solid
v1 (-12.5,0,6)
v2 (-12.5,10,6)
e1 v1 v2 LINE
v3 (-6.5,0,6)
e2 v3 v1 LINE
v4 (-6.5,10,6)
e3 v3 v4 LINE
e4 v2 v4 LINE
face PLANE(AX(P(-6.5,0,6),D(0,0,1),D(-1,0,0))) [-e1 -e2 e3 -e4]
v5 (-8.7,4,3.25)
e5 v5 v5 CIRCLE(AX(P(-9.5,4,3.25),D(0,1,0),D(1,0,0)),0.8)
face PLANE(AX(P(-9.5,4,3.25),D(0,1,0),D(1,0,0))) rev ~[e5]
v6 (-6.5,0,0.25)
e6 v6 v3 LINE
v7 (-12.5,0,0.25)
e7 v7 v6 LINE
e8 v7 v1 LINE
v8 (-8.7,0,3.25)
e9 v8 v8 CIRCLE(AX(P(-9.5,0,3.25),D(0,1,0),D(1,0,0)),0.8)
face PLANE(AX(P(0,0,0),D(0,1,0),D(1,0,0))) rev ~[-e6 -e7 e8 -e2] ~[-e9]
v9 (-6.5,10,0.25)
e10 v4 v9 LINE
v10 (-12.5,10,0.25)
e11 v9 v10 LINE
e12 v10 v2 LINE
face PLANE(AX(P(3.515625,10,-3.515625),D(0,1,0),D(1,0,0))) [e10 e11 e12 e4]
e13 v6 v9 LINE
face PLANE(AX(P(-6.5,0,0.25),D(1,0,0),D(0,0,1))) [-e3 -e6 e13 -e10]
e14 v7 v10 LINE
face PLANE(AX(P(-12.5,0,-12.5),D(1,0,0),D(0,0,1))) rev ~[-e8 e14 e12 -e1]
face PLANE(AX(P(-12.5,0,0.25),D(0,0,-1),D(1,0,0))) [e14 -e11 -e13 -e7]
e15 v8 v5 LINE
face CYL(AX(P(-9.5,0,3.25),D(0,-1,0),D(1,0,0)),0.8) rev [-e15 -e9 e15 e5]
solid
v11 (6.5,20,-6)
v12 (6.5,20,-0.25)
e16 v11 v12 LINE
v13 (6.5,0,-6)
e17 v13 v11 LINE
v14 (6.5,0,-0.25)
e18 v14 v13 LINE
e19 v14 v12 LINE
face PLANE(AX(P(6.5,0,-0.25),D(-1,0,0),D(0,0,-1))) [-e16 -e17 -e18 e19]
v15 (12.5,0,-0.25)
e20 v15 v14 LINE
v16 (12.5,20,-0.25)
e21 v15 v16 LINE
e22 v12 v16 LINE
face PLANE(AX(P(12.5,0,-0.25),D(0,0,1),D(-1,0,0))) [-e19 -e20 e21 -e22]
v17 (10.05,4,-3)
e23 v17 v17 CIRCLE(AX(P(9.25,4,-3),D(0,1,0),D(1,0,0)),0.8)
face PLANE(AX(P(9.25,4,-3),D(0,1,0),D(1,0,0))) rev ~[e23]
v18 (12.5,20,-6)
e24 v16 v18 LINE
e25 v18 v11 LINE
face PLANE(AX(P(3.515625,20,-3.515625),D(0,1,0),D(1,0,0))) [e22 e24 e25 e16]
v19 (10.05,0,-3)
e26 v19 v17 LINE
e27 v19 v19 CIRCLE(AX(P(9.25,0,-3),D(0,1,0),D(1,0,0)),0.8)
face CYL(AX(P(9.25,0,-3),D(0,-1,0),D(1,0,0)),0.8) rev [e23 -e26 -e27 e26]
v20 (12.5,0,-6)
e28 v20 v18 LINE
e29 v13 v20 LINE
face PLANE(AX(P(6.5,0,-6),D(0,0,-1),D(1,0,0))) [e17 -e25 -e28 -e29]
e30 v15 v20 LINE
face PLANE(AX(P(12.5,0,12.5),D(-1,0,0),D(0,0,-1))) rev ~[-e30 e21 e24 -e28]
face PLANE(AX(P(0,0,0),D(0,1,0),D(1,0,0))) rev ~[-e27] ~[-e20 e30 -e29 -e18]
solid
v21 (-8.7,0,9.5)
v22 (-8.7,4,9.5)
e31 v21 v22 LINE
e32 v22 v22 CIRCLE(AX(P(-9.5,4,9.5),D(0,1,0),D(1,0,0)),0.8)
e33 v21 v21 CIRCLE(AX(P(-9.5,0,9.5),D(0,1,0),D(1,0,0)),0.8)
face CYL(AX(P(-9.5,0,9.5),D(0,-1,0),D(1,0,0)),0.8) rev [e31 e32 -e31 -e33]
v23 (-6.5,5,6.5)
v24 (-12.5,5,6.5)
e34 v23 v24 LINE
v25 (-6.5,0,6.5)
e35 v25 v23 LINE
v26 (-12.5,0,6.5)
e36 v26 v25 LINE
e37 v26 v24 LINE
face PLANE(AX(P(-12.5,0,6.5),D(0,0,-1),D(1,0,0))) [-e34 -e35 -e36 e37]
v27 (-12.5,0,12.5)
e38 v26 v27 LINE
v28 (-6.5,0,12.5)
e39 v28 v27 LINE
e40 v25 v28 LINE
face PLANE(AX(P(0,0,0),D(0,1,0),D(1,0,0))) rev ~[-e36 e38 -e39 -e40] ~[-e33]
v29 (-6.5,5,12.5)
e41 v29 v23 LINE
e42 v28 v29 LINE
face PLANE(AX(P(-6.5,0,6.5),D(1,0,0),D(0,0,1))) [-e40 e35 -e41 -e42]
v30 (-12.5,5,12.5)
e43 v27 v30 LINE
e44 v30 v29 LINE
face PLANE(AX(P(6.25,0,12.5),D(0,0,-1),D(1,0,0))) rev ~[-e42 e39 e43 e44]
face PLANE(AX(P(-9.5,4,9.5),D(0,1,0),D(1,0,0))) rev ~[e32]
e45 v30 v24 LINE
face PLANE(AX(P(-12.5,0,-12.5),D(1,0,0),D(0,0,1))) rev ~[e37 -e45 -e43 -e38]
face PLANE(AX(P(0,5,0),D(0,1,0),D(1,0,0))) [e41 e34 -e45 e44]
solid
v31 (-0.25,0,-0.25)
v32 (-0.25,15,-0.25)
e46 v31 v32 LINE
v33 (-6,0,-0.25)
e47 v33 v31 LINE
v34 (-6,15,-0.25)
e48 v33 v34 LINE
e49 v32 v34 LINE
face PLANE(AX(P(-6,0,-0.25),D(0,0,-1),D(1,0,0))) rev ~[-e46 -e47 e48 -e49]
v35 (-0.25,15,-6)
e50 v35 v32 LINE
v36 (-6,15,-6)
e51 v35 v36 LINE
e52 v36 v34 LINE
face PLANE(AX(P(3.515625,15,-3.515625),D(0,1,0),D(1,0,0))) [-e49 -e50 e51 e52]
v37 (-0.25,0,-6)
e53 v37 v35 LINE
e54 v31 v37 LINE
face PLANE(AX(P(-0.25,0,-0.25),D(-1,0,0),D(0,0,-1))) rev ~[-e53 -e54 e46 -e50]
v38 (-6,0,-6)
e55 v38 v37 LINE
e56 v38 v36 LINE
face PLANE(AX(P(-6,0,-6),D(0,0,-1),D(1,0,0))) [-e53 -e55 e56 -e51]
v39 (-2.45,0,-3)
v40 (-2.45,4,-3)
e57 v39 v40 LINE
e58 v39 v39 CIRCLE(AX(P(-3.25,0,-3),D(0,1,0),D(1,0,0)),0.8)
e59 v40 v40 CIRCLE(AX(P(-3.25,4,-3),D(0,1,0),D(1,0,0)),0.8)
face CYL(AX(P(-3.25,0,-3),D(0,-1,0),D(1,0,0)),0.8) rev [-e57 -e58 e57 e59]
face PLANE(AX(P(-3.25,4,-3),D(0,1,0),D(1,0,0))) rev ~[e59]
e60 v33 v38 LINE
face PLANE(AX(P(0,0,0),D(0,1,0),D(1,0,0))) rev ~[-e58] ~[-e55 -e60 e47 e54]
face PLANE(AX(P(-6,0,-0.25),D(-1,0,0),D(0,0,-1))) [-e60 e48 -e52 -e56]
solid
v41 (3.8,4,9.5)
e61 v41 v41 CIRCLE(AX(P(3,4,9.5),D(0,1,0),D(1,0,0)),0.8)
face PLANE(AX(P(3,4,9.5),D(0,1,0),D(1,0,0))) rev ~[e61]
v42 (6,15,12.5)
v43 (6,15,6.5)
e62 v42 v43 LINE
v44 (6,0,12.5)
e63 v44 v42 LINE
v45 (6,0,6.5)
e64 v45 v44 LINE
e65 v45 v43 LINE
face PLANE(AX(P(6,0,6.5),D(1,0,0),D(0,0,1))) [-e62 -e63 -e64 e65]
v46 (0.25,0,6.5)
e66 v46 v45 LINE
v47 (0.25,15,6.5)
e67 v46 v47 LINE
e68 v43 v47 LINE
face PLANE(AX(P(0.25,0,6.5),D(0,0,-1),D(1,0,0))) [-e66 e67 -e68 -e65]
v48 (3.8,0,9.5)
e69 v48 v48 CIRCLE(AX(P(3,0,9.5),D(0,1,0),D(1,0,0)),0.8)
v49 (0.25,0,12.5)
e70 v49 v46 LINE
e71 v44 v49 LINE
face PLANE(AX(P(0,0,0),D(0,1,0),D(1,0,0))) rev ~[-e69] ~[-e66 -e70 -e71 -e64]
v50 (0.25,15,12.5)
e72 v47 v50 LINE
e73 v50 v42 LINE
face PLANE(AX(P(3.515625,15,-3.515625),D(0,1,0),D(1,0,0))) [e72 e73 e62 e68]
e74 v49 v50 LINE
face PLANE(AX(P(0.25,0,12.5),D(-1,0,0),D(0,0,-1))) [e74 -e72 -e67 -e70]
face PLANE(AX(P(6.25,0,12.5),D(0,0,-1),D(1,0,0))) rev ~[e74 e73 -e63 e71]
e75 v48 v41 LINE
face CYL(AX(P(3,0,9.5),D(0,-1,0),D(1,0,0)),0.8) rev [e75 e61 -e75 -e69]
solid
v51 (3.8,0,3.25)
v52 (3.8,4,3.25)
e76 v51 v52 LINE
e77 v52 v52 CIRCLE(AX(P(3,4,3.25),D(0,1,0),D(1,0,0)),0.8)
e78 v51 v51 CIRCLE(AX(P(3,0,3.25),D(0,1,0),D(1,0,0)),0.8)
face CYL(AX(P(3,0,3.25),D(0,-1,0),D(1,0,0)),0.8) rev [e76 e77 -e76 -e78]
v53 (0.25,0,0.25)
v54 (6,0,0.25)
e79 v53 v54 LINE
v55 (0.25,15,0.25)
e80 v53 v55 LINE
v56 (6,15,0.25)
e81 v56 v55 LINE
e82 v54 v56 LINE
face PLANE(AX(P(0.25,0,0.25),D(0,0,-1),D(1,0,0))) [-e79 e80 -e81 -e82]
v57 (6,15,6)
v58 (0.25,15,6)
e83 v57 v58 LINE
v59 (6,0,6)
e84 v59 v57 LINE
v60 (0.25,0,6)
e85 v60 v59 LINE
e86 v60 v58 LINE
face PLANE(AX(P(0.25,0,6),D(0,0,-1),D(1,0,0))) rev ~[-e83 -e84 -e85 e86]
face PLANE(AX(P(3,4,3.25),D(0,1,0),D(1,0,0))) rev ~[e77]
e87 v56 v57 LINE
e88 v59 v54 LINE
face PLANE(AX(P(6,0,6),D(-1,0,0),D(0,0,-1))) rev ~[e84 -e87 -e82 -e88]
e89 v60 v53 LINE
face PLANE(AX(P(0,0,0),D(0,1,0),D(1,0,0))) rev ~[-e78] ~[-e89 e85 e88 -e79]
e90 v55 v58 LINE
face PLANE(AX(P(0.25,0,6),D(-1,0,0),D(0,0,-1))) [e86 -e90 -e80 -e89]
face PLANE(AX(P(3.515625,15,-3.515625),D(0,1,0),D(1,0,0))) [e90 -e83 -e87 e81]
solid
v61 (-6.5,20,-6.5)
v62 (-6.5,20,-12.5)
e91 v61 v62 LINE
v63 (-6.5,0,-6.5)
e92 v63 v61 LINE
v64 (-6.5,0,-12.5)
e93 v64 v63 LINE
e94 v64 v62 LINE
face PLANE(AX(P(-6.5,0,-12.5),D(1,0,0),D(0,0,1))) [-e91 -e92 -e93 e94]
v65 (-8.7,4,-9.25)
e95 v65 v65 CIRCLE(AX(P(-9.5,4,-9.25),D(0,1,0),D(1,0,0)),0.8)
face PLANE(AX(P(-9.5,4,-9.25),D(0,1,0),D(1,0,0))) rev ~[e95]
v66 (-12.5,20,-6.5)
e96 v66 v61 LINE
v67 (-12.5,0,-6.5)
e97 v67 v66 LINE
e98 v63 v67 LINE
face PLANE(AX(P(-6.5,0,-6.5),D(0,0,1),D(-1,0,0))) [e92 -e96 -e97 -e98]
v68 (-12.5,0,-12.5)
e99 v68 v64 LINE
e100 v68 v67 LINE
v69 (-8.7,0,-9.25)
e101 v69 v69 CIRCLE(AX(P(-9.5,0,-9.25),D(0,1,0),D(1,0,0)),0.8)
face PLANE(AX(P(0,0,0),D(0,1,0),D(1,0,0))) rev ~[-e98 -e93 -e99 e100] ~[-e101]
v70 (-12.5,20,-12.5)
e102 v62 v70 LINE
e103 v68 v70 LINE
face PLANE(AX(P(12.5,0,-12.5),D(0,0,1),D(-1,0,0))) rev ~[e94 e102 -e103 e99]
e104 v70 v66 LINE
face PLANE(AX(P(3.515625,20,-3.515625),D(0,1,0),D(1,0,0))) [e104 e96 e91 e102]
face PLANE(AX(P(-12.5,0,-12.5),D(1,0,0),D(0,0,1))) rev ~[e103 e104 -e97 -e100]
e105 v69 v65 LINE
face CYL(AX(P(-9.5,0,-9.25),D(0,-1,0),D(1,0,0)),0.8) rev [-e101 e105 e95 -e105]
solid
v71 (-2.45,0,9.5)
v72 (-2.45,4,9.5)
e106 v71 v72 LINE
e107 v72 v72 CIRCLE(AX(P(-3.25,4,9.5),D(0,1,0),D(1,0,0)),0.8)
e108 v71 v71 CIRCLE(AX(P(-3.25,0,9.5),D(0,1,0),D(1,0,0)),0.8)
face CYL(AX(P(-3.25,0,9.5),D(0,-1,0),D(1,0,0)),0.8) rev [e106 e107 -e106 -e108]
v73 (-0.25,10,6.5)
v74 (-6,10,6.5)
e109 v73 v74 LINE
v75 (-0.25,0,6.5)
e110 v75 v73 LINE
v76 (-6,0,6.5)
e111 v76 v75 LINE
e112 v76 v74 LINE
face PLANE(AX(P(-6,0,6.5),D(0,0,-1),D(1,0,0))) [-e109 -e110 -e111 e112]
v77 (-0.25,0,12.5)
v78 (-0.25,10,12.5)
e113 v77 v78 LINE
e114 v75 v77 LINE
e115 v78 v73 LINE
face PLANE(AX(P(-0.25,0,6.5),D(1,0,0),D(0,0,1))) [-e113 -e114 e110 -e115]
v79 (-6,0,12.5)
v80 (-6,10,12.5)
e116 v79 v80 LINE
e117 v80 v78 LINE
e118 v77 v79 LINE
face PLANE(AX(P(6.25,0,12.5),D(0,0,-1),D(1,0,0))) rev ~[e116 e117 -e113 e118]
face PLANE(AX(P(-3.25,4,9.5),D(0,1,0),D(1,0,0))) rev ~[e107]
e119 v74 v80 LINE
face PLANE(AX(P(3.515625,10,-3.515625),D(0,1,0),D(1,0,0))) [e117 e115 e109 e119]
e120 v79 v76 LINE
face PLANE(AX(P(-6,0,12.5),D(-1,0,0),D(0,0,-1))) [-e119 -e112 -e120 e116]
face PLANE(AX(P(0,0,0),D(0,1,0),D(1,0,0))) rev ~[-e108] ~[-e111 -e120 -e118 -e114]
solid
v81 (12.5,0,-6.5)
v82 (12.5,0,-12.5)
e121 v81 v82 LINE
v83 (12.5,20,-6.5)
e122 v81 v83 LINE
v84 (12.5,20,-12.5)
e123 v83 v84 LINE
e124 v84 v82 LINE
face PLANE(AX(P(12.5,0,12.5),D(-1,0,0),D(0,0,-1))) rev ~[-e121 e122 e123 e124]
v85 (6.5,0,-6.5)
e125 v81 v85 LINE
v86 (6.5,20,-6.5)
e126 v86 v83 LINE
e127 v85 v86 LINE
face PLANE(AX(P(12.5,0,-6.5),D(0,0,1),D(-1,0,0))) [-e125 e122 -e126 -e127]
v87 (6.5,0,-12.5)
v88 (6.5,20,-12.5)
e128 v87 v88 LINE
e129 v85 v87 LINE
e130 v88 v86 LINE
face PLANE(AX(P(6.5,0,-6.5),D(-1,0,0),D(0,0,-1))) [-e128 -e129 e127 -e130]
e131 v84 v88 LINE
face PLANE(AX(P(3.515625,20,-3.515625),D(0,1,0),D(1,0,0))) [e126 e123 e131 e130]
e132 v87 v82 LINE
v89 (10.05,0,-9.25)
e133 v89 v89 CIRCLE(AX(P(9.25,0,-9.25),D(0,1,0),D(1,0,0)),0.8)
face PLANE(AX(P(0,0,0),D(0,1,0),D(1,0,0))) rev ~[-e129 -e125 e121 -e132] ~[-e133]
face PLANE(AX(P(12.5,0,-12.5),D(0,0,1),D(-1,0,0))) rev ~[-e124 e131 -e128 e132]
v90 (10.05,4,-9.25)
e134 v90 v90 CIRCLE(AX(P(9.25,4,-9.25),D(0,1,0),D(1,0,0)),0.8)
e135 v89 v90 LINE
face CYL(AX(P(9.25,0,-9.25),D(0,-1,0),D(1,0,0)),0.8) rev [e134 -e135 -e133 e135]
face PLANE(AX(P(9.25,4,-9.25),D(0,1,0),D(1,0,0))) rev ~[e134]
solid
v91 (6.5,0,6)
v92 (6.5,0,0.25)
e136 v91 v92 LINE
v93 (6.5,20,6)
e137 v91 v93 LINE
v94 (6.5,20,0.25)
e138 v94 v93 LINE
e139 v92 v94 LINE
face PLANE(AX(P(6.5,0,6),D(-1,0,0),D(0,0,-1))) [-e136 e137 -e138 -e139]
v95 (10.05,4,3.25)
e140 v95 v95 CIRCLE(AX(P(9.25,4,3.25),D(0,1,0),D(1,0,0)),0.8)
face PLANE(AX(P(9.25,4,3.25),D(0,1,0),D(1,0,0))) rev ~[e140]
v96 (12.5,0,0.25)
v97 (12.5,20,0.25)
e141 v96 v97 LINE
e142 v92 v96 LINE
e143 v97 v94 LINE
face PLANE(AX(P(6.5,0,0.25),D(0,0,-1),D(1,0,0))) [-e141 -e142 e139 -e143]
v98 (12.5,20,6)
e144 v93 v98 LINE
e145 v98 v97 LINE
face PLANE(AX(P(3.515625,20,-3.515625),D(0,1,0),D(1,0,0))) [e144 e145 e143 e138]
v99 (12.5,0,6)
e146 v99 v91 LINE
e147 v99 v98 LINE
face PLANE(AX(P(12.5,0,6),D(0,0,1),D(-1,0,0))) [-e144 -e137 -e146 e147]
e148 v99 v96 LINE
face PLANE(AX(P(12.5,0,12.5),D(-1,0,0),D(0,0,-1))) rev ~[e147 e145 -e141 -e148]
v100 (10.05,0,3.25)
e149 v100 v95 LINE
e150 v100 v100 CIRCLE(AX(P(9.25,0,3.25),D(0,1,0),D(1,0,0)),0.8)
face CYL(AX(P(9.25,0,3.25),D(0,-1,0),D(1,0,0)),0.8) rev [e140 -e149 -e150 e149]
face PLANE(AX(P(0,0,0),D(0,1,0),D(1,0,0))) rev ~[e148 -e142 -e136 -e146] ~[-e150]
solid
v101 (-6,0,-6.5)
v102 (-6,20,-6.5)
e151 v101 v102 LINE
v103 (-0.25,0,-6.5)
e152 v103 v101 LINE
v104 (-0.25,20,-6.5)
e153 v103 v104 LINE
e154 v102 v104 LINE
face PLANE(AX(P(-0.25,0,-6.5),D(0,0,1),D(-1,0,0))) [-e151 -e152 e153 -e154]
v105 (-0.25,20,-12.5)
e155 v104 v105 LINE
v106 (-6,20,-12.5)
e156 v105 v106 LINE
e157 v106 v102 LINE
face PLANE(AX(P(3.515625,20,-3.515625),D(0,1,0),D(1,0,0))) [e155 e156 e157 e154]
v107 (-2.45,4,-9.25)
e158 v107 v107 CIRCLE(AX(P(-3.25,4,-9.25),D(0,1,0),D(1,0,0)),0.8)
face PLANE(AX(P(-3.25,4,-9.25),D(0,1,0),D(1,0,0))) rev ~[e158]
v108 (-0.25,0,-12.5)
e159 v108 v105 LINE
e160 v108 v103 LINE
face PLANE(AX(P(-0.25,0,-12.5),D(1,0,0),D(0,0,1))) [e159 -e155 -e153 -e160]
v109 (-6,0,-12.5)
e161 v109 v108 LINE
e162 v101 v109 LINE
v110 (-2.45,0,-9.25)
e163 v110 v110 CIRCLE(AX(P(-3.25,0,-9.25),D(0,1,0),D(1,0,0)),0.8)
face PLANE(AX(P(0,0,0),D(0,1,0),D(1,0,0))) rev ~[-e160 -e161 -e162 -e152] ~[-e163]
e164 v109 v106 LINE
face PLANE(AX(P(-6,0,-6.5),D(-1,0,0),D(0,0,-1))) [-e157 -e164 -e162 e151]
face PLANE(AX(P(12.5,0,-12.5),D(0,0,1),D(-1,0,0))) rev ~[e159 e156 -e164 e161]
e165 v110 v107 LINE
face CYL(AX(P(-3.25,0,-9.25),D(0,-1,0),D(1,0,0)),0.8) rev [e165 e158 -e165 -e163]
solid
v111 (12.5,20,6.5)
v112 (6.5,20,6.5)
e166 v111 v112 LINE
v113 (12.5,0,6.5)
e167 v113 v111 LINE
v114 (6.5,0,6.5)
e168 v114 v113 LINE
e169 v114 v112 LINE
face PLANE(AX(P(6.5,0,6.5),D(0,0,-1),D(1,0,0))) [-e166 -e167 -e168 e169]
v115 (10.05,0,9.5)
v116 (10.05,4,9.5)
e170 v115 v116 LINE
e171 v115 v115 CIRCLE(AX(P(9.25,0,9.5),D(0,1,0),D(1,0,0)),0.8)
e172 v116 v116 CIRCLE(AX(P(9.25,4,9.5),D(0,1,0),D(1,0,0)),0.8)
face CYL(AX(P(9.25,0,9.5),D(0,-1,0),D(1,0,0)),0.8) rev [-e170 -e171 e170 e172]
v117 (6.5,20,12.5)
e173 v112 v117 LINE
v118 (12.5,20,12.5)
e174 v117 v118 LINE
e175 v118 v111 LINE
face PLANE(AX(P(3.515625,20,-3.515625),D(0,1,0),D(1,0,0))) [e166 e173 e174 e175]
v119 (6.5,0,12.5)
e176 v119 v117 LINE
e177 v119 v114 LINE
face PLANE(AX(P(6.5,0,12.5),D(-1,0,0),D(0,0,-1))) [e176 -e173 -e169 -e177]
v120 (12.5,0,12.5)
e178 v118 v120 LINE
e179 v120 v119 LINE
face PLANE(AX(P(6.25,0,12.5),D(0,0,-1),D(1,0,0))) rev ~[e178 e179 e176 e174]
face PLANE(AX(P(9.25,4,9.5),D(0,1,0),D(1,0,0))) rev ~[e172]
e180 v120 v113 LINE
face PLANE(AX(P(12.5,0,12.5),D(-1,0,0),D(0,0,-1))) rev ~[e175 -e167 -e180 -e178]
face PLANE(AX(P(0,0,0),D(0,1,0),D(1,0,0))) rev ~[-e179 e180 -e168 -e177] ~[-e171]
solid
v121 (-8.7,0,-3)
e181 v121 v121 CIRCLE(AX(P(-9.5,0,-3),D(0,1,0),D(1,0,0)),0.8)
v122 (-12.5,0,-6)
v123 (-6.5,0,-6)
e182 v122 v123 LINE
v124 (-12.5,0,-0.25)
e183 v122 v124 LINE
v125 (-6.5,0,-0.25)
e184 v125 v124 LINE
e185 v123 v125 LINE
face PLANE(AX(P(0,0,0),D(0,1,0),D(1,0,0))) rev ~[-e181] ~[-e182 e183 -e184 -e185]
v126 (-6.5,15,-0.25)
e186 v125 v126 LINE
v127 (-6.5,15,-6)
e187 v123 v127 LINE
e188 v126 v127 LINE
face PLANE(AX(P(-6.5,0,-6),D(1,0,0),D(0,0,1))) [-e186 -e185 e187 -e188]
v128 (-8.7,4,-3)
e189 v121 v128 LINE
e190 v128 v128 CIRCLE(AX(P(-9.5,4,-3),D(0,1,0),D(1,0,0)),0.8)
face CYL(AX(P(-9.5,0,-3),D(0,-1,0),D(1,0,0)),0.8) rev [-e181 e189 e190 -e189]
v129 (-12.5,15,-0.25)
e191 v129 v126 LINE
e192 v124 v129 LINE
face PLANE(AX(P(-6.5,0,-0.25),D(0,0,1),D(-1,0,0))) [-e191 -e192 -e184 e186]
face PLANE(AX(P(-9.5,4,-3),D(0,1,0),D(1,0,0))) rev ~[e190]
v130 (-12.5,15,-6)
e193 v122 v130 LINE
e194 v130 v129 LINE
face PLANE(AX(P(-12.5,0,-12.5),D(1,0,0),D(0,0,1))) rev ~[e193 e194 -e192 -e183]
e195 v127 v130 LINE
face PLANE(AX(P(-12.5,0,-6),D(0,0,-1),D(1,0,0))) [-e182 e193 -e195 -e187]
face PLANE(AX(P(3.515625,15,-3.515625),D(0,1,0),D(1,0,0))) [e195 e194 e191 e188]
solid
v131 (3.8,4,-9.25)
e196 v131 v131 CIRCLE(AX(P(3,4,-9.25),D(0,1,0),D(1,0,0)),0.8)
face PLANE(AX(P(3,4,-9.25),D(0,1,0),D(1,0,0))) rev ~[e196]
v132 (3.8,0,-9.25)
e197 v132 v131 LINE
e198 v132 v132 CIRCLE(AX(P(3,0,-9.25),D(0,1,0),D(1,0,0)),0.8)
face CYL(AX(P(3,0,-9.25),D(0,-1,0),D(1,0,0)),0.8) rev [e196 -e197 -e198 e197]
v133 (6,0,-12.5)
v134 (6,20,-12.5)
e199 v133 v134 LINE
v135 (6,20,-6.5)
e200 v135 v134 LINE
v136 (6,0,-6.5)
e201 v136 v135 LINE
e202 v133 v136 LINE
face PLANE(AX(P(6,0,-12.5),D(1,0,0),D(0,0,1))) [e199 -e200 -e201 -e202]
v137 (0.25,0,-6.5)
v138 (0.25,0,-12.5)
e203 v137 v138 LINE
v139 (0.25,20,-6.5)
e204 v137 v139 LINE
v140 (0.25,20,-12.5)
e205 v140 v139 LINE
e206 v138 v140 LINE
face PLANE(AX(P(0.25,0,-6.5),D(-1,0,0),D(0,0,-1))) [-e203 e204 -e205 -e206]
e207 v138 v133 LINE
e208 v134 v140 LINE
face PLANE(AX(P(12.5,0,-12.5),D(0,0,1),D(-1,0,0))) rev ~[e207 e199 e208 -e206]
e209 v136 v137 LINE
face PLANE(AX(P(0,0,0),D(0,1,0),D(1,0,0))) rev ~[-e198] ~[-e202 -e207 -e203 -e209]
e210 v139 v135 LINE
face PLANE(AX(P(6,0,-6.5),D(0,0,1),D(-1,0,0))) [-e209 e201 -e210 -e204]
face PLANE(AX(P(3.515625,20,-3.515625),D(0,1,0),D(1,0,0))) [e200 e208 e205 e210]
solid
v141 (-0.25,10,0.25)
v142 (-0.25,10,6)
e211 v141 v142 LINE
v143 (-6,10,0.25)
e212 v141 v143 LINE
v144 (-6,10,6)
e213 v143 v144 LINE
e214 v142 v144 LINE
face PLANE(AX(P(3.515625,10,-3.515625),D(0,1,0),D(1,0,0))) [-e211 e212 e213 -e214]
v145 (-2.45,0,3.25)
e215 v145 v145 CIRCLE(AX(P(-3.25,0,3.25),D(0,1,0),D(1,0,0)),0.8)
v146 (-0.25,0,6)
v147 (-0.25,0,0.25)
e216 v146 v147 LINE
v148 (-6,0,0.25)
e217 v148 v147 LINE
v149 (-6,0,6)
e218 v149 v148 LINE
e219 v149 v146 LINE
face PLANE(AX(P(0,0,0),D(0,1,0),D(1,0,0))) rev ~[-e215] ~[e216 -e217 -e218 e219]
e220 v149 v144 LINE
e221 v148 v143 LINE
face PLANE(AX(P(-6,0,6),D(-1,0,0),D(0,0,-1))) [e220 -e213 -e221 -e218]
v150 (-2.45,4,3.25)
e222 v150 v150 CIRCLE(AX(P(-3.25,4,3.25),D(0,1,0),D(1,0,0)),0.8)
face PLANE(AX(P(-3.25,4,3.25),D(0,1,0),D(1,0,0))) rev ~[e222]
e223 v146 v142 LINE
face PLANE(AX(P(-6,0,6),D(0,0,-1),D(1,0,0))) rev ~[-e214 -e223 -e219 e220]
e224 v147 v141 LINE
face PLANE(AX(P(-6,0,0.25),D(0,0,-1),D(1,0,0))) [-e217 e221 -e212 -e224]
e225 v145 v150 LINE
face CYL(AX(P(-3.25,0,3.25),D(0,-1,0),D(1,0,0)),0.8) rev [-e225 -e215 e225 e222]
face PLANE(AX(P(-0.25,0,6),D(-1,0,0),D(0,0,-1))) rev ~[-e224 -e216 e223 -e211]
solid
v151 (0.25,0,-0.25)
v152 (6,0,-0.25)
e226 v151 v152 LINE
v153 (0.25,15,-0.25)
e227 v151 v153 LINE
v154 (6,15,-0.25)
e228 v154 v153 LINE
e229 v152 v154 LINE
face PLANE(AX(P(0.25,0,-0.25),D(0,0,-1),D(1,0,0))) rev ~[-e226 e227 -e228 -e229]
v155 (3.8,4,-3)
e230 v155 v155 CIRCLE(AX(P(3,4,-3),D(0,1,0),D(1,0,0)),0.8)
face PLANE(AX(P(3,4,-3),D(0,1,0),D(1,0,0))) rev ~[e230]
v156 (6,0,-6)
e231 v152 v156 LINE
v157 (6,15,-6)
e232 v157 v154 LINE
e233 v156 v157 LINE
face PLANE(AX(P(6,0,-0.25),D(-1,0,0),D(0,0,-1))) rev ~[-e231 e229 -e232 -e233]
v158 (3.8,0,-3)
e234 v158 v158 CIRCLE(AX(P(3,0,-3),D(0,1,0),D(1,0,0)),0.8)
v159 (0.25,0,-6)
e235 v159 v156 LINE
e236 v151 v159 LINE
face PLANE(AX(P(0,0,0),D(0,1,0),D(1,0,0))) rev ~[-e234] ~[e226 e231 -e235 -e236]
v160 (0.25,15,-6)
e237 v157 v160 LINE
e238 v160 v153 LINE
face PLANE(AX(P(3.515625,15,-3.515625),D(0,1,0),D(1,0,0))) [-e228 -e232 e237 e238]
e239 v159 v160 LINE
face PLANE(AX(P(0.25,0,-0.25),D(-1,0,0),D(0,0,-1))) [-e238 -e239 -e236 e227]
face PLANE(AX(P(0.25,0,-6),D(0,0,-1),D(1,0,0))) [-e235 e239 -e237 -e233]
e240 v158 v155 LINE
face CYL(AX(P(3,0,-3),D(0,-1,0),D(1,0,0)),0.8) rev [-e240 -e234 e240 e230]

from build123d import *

# Parameters (mm, degrees)
SKETCH1_W           = 25
SKETCH1_H           = 25
BOSS_EXTRUDE1_DEPTH = 5
BOSS_EXTRUDE2_DEPTH = 10
BOSS_EXTRUDE3_DEPTH = 15
BOSS_EXTRUDE4_DEPTH = 20
SKETCH3_W           = 5.75
SKETCH3_H           = 5.75
CUT_EXTRUDE1_DEPTH  = 27.69269563
SKETCH4_R           = 0.8
CUT_EXTRUDE2_DEPTH  = 4


with BuildPart() as part:
    # Sketch1 → Boss-Extrude1 (new body)
    with BuildSketch(Plane(origin=(0, 0, 0), x_dir=(1, 0, 0), z_dir=(0, 1, 0))):
        Rectangle(SKETCH1_W, SKETCH1_H)
    extrude(amount=BOSS_EXTRUDE1_DEPTH)

    # Sketch2 → Boss-Extrude2 (add)
    with BuildSketch(Plane(origin=(0, 0, 0), x_dir=(1, 0, 0), z_dir=(0, 1, 0))):
        Polygon((-12.5, -6.25), (-6.25, -6.25), (-6.25, -12.5), (12.5, -12.5), (12.5, 12.5), (-12.5, 12.5), align=None)
    extrude(amount=BOSS_EXTRUDE2_DEPTH)

    # Sketch2<3> → Boss-Extrude3 (add)
    with BuildSketch(Plane(origin=(0, 0, 0), x_dir=(1, 0, 0), z_dir=(0, 1, 0))):
        Polygon((-12.5, 0), (0, 0), (0, -12.5), (12.5, -12.5), (12.5, 12.5), (-12.5, 12.5), align=None)
    extrude(amount=BOSS_EXTRUDE3_DEPTH)

    # Sketch2<4> → Boss-Extrude4 (add)
    with BuildSketch(Plane(origin=(0, 0, 0), x_dir=(1, 0, 0), z_dir=(0, 1, 0))):
        Polygon((-12.5, 6.25), (6.25, 6.25), (6.25, -12.5), (12.5, -12.5), (12.5, 12.5), (-12.5, 12.5), align=None)
    extrude(amount=BOSS_EXTRUDE4_DEPTH)

    # Sketch3 → Cut-Extrude1 (cut, through all)
    with BuildSketch(Plane(origin=(0, 0, 0), x_dir=(1, 0, 0), z_dir=(0, 1, 0))):
        with BuildLine():
            ThreePointArc((-12.5, 0.25), (-12.75, 0), (-12.5, -0.25))
            Line((-12.5, -0.25), (-6.5, -0.25))
            Line((-6.5, -0.25), (-6.5, -6))
            Line((-6.5, -6), (-12.5, -6))
            ThreePointArc((-12.5, -6), (-12.75, -6.25), (-12.5, -6.5))
            Line((-12.5, -6.5), (-6.5, -6.5))
            Line((-6.5, -6.5), (-6.5, -12.5))
            ThreePointArc((-6.5, -12.5), (-6.25, -12.75), (-6, -12.5))
            Line((-6, -12.5), (-6, -6.5))
            Line((-6, -6.5), (-0.25, -6.5))
            Line((-0.25, -6.5), (-0.25, -12.5))
            ThreePointArc((-0.25, -12.5), (0, -12.75), (0.25, -12.5))
            Line((0.25, -12.5), (0.25, -6.5))
            Line((0.25, -6.5), (6, -6.5))
            Line((6, -6.5), (6, -12.5))
            ThreePointArc((6, -12.5), (6.25, -12.75), (6.5, -12.5))
            Line((6.5, -12.5), (6.5, -6.5))
            Line((6.5, -6.5), (12.5, -6.5))
            ThreePointArc((12.5, -6.5), (12.75, -6.25), (12.5, -6))
            Line((12.5, -6), (6.5, -6))
            Line((6.5, -6), (6.5, -0.25))
            Line((6.5, -0.25), (12.5, -0.25))
            ThreePointArc((12.5, -0.25), (12.75, 0), (12.5, 0.25))
            Line((12.5, 0.25), (6.5, 0.25))
            Line((6.5, 0.25), (6.5, 6))
            Line((6.5, 6), (12.5, 6))
            ThreePointArc((12.5, 6), (12.75, 6.25), (12.5, 6.5))
            Line((12.5, 6.5), (6.5, 6.5))
            Line((6.5, 6.5), (6.5, 12.5))
            ThreePointArc((6.5, 12.5), (6.25, 12.75), (6, 12.5))
            Line((6, 12.5), (6, 6.5))
            Line((6, 6.5), (0.25, 6.5))
            Line((0.25, 6.5), (0.25, 12.5))
            ThreePointArc((0.25, 12.5), (0, 12.75), (-0.25, 12.5))
            Line((-0.25, 12.5), (-0.25, 6.5))
            Line((-0.25, 6.5), (-6, 6.5))
            Line((-6, 6.5), (-6, 12.5))
            ThreePointArc((-6, 12.5), (-6.25, 12.75), (-6.5, 12.5))
            Line((-6.5, 12.5), (-6.5, 6.5))
            Line((-6.5, 6.5), (-12.5, 6.5))
            ThreePointArc((-12.5, 6.5), (-12.75, 6.25), (-12.5, 6))
            Line((-12.5, 6), (-6.5, 6))
            Line((-6.5, 6), (-6.5, 0.25))
            Line((-6.5, 0.25), (-12.5, 0.25))
        make_face()
        with Locations((-3.125, -3.125)):
            Rectangle(SKETCH3_W, SKETCH3_H, mode=Mode.SUBTRACT)
        with Locations((3.125, -3.125)):
            Rectangle(SKETCH3_W, SKETCH3_H, mode=Mode.SUBTRACT)
        with Locations((-3.125, 3.125)):
            Rectangle(SKETCH3_W, SKETCH3_H, mode=Mode.SUBTRACT)
        with Locations((3.125, 3.125)):
            Rectangle(SKETCH3_W, SKETCH3_H, mode=Mode.SUBTRACT)
    extrude(amount=CUT_EXTRUDE1_DEPTH, mode=Mode.SUBTRACT)


with BuildPart() as cut_extrude1_piece_1:
    # of the separate pieces the step leaves, piece 1, a body of its own (cut_extrude1_pieces)
    add(part.part.solids().sort_by_distance((-12.5, 0, -6.5))[0])


with BuildPart() as cut_extrude1_piece_2:
    # of the separate pieces the step leaves, piece 2, a body of its own (cut_extrude1_pieces)
    add(part.part.solids().sort_by_distance((6.5, 0, -6.5))[0])


with BuildPart() as cut_extrude1_piece_3:
    # of the separate pieces the step leaves, piece 3, a body of its own (cut_extrude1_pieces)
    add(part.part.solids().sort_by_distance((6.5, 0, 12.5))[0])


with BuildPart() as cut_extrude1_piece_4:
    # of the separate pieces the step leaves, piece 4, a body of its own (cut_extrude1_pieces)
    add(part.part.solids().sort_by_distance((0.25, 0, -6.5))[0])


with BuildPart() as cut_extrude1_piece_5:
    # of the separate pieces the step leaves, piece 5, a body of its own (cut_extrude1_pieces)
    add(part.part.solids().sort_by_distance((-6, 0, -6.5))[0])


with BuildPart() as cut_extrude1_piece_6:
    # of the separate pieces the step leaves, piece 6, a body of its own (cut_extrude1_pieces)
    add(part.part.solids().sort_by_distance((6.5, 0, 0.25))[0])


with BuildPart() as cut_extrude1_piece_7:
    # of the separate pieces the step leaves, piece 7, a body of its own (cut_extrude1_pieces)
    add(part.part.solids().sort_by_distance((6.5, 0, -6))[0])


with BuildPart() as cut_extrude1_piece_8:
    # of the separate pieces the step leaves, piece 8, a body of its own (cut_extrude1_pieces)
    add(part.part.solids().sort_by_distance((0.25, 0, 12.5))[0])


with BuildPart() as cut_extrude1_piece_9:
    # of the separate pieces the step leaves, piece 9, a body of its own (cut_extrude1_pieces)
    add(part.part.solids().sort_by_distance((-12.5, 0, -0.25))[0])


with BuildPart() as cut_extrude1_piece_10:
    # of the separate pieces the step leaves, piece 10, a body of its own (cut_extrude1_pieces)
    add(part.part.solids().sort_by_distance((6, 0, 6))[0])


with BuildPart() as cut_extrude1_piece_11:
    # of the separate pieces the step leaves, piece 11, a body of its own (cut_extrude1_pieces)
    add(part.part.solids().sort_by_distance((6, 0, -0.25))[0])


with BuildPart() as cut_extrude1_piece_12:
    # of the separate pieces the step leaves, piece 12, a body of its own (cut_extrude1_pieces)
    add(part.part.solids().sort_by_distance((-0.25, 0, -0.25))[0])


with BuildPart() as cut_extrude1_piece_13:
    # of the separate pieces the step leaves, piece 13, a body of its own (cut_extrude1_pieces)
    add(part.part.solids().sort_by_distance((-12.5, 0, 6))[0])


with BuildPart() as cut_extrude1_piece_14:
    # of the separate pieces the step leaves, piece 14, a body of its own (cut_extrude1_pieces)
    add(part.part.solids().sort_by_distance((-6, 0, 12.5))[0])


with BuildPart() as cut_extrude1_piece_15:
    # of the separate pieces the step leaves, piece 15, a body of its own (cut_extrude1_pieces)
    add(part.part.solids().sort_by_distance((-0.25, 0, 6))[0])


with BuildPart() as cut_extrude1_piece_16:
    # of the separate pieces the step leaves, piece 16, a body of its own (cut_extrude1_pieces)
    add(part.part.solids().sort_by_distance((-12.5, 0, 12.5))[0])


with BuildPart() as cut_extrude2_tool:
    # Sketch4 → Cut-Extrude2 (new body)
    with BuildSketch(Plane(origin=(0, 0, 0), x_dir=(1, 0, 0), z_dir=(0, 1, 0))):
        with Locations((-9.5, -9.5)):
            Circle(SKETCH4_R)
        with Locations((-3.25, -9.5)):
            Circle(SKETCH4_R)
        with Locations((3, -9.5)):
            Circle(SKETCH4_R)
        with Locations((9.25, -9.5)):
            Circle(SKETCH4_R)
        with Locations((-3.25, -3.25)):
            Circle(SKETCH4_R)
        with Locations((3, -3.25)):
            Circle(SKETCH4_R)
        with Locations((9.25, -3.25)):
            Circle(SKETCH4_R)
        with Locations((-3.25, 3)):
            Circle(SKETCH4_R)
        with Locations((3, 3)):
            Circle(SKETCH4_R)
        with Locations((9.25, 3)):
            Circle(SKETCH4_R)
        with Locations((-3.25, 9.25)):
            Circle(SKETCH4_R)
        with Locations((3, 9.25)):
            Circle(SKETCH4_R)
        with Locations((9.25, 9.25)):
            Circle(SKETCH4_R)
        with Locations((-9.5, -3.25)):
            Circle(SKETCH4_R)
        with Locations((-9.5, 3)):
            Circle(SKETCH4_R)
        with Locations((-9.5, 9.25)):
            Circle(SKETCH4_R)
    extrude(amount=CUT_EXTRUDE2_DEPTH)


with BuildPart() as cut_extrude1_piece_1_1:
    add(cut_extrude1_piece_1.part)

    # Cut-Extrude2: cut by cut_extrude2_tool
    add(cut_extrude2_tool.part, mode=Mode.SUBTRACT)


with BuildPart() as cut_extrude1_piece_2_1:
    add(cut_extrude1_piece_2.part)

    # Cut-Extrude2: cut by cut_extrude2_tool
    add(cut_extrude2_tool.part, mode=Mode.SUBTRACT)


with BuildPart() as cut_extrude1_piece_3_1:
    add(cut_extrude1_piece_3.part)

    # Cut-Extrude2: cut by cut_extrude2_tool
    add(cut_extrude2_tool.part, mode=Mode.SUBTRACT)


with BuildPart() as cut_extrude1_piece_4_1:
    add(cut_extrude1_piece_4.part)

    # Cut-Extrude2: cut by cut_extrude2_tool
    add(cut_extrude2_tool.part, mode=Mode.SUBTRACT)


with BuildPart() as cut_extrude1_piece_5_1:
    add(cut_extrude1_piece_5.part)

    # Cut-Extrude2: cut by cut_extrude2_tool
    add(cut_extrude2_tool.part, mode=Mode.SUBTRACT)


with BuildPart() as cut_extrude1_piece_6_1:
    add(cut_extrude1_piece_6.part)

    # Cut-Extrude2: cut by cut_extrude2_tool
    add(cut_extrude2_tool.part, mode=Mode.SUBTRACT)


with BuildPart() as cut_extrude1_piece_7_1:
    add(cut_extrude1_piece_7.part)

    # Cut-Extrude2: cut by cut_extrude2_tool
    add(cut_extrude2_tool.part, mode=Mode.SUBTRACT)


with BuildPart() as cut_extrude1_piece_8_1:
    add(cut_extrude1_piece_8.part)

    # Cut-Extrude2: cut by cut_extrude2_tool
    add(cut_extrude2_tool.part, mode=Mode.SUBTRACT)


with BuildPart() as cut_extrude1_piece_9_1:
    add(cut_extrude1_piece_9.part)

    # Cut-Extrude2: cut by cut_extrude2_tool
    add(cut_extrude2_tool.part, mode=Mode.SUBTRACT)


with BuildPart() as cut_extrude1_piece_10_1:
    add(cut_extrude1_piece_10.part)

    # Cut-Extrude2: cut by cut_extrude2_tool
    add(cut_extrude2_tool.part, mode=Mode.SUBTRACT)


with BuildPart() as cut_extrude1_piece_11_1:
    add(cut_extrude1_piece_11.part)

    # Cut-Extrude2: cut by cut_extrude2_tool
    add(cut_extrude2_tool.part, mode=Mode.SUBTRACT)


with BuildPart() as cut_extrude1_piece_12_1:
    add(cut_extrude1_piece_12.part)

    # Cut-Extrude2: cut by cut_extrude2_tool
    add(cut_extrude2_tool.part, mode=Mode.SUBTRACT)


with BuildPart() as cut_extrude1_piece_13_1:
    add(cut_extrude1_piece_13.part)

    # Cut-Extrude2: cut by cut_extrude2_tool
    add(cut_extrude2_tool.part, mode=Mode.SUBTRACT)


with BuildPart() as cut_extrude1_piece_14_1:
    add(cut_extrude1_piece_14.part)

    # Cut-Extrude2: cut by cut_extrude2_tool
    add(cut_extrude2_tool.part, mode=Mode.SUBTRACT)


with BuildPart() as cut_extrude1_piece_15_1:
    add(cut_extrude1_piece_15.part)

    # Cut-Extrude2: cut by cut_extrude2_tool
    add(cut_extrude2_tool.part, mode=Mode.SUBTRACT)


with BuildPart() as cut_extrude1_piece_16_1:
    add(cut_extrude1_piece_16.part)

    # Cut-Extrude2: cut by cut_extrude2_tool
    add(cut_extrude2_tool.part, mode=Mode.SUBTRACT)


solid = Compound([cut_extrude1_piece_1_1.part, cut_extrude1_piece_2_1.part, cut_extrude1_piece_3_1.part, cut_extrude1_piece_4_1.part, cut_extrude1_piece_5_1.part, cut_extrude1_piece_6_1.part, cut_extrude1_piece_7_1.part, cut_extrude1_piece_8_1.part, cut_extrude1_piece_9_1.part, cut_extrude1_piece_10_1.part, cut_extrude1_piece_11_1.part, cut_extrude1_piece_12_1.part, cut_extrude1_piece_13_1.part, cut_extrude1_piece_14_1.part, cut_extrude1_piece_15_1.part, cut_extrude1_piece_16_1.part])
